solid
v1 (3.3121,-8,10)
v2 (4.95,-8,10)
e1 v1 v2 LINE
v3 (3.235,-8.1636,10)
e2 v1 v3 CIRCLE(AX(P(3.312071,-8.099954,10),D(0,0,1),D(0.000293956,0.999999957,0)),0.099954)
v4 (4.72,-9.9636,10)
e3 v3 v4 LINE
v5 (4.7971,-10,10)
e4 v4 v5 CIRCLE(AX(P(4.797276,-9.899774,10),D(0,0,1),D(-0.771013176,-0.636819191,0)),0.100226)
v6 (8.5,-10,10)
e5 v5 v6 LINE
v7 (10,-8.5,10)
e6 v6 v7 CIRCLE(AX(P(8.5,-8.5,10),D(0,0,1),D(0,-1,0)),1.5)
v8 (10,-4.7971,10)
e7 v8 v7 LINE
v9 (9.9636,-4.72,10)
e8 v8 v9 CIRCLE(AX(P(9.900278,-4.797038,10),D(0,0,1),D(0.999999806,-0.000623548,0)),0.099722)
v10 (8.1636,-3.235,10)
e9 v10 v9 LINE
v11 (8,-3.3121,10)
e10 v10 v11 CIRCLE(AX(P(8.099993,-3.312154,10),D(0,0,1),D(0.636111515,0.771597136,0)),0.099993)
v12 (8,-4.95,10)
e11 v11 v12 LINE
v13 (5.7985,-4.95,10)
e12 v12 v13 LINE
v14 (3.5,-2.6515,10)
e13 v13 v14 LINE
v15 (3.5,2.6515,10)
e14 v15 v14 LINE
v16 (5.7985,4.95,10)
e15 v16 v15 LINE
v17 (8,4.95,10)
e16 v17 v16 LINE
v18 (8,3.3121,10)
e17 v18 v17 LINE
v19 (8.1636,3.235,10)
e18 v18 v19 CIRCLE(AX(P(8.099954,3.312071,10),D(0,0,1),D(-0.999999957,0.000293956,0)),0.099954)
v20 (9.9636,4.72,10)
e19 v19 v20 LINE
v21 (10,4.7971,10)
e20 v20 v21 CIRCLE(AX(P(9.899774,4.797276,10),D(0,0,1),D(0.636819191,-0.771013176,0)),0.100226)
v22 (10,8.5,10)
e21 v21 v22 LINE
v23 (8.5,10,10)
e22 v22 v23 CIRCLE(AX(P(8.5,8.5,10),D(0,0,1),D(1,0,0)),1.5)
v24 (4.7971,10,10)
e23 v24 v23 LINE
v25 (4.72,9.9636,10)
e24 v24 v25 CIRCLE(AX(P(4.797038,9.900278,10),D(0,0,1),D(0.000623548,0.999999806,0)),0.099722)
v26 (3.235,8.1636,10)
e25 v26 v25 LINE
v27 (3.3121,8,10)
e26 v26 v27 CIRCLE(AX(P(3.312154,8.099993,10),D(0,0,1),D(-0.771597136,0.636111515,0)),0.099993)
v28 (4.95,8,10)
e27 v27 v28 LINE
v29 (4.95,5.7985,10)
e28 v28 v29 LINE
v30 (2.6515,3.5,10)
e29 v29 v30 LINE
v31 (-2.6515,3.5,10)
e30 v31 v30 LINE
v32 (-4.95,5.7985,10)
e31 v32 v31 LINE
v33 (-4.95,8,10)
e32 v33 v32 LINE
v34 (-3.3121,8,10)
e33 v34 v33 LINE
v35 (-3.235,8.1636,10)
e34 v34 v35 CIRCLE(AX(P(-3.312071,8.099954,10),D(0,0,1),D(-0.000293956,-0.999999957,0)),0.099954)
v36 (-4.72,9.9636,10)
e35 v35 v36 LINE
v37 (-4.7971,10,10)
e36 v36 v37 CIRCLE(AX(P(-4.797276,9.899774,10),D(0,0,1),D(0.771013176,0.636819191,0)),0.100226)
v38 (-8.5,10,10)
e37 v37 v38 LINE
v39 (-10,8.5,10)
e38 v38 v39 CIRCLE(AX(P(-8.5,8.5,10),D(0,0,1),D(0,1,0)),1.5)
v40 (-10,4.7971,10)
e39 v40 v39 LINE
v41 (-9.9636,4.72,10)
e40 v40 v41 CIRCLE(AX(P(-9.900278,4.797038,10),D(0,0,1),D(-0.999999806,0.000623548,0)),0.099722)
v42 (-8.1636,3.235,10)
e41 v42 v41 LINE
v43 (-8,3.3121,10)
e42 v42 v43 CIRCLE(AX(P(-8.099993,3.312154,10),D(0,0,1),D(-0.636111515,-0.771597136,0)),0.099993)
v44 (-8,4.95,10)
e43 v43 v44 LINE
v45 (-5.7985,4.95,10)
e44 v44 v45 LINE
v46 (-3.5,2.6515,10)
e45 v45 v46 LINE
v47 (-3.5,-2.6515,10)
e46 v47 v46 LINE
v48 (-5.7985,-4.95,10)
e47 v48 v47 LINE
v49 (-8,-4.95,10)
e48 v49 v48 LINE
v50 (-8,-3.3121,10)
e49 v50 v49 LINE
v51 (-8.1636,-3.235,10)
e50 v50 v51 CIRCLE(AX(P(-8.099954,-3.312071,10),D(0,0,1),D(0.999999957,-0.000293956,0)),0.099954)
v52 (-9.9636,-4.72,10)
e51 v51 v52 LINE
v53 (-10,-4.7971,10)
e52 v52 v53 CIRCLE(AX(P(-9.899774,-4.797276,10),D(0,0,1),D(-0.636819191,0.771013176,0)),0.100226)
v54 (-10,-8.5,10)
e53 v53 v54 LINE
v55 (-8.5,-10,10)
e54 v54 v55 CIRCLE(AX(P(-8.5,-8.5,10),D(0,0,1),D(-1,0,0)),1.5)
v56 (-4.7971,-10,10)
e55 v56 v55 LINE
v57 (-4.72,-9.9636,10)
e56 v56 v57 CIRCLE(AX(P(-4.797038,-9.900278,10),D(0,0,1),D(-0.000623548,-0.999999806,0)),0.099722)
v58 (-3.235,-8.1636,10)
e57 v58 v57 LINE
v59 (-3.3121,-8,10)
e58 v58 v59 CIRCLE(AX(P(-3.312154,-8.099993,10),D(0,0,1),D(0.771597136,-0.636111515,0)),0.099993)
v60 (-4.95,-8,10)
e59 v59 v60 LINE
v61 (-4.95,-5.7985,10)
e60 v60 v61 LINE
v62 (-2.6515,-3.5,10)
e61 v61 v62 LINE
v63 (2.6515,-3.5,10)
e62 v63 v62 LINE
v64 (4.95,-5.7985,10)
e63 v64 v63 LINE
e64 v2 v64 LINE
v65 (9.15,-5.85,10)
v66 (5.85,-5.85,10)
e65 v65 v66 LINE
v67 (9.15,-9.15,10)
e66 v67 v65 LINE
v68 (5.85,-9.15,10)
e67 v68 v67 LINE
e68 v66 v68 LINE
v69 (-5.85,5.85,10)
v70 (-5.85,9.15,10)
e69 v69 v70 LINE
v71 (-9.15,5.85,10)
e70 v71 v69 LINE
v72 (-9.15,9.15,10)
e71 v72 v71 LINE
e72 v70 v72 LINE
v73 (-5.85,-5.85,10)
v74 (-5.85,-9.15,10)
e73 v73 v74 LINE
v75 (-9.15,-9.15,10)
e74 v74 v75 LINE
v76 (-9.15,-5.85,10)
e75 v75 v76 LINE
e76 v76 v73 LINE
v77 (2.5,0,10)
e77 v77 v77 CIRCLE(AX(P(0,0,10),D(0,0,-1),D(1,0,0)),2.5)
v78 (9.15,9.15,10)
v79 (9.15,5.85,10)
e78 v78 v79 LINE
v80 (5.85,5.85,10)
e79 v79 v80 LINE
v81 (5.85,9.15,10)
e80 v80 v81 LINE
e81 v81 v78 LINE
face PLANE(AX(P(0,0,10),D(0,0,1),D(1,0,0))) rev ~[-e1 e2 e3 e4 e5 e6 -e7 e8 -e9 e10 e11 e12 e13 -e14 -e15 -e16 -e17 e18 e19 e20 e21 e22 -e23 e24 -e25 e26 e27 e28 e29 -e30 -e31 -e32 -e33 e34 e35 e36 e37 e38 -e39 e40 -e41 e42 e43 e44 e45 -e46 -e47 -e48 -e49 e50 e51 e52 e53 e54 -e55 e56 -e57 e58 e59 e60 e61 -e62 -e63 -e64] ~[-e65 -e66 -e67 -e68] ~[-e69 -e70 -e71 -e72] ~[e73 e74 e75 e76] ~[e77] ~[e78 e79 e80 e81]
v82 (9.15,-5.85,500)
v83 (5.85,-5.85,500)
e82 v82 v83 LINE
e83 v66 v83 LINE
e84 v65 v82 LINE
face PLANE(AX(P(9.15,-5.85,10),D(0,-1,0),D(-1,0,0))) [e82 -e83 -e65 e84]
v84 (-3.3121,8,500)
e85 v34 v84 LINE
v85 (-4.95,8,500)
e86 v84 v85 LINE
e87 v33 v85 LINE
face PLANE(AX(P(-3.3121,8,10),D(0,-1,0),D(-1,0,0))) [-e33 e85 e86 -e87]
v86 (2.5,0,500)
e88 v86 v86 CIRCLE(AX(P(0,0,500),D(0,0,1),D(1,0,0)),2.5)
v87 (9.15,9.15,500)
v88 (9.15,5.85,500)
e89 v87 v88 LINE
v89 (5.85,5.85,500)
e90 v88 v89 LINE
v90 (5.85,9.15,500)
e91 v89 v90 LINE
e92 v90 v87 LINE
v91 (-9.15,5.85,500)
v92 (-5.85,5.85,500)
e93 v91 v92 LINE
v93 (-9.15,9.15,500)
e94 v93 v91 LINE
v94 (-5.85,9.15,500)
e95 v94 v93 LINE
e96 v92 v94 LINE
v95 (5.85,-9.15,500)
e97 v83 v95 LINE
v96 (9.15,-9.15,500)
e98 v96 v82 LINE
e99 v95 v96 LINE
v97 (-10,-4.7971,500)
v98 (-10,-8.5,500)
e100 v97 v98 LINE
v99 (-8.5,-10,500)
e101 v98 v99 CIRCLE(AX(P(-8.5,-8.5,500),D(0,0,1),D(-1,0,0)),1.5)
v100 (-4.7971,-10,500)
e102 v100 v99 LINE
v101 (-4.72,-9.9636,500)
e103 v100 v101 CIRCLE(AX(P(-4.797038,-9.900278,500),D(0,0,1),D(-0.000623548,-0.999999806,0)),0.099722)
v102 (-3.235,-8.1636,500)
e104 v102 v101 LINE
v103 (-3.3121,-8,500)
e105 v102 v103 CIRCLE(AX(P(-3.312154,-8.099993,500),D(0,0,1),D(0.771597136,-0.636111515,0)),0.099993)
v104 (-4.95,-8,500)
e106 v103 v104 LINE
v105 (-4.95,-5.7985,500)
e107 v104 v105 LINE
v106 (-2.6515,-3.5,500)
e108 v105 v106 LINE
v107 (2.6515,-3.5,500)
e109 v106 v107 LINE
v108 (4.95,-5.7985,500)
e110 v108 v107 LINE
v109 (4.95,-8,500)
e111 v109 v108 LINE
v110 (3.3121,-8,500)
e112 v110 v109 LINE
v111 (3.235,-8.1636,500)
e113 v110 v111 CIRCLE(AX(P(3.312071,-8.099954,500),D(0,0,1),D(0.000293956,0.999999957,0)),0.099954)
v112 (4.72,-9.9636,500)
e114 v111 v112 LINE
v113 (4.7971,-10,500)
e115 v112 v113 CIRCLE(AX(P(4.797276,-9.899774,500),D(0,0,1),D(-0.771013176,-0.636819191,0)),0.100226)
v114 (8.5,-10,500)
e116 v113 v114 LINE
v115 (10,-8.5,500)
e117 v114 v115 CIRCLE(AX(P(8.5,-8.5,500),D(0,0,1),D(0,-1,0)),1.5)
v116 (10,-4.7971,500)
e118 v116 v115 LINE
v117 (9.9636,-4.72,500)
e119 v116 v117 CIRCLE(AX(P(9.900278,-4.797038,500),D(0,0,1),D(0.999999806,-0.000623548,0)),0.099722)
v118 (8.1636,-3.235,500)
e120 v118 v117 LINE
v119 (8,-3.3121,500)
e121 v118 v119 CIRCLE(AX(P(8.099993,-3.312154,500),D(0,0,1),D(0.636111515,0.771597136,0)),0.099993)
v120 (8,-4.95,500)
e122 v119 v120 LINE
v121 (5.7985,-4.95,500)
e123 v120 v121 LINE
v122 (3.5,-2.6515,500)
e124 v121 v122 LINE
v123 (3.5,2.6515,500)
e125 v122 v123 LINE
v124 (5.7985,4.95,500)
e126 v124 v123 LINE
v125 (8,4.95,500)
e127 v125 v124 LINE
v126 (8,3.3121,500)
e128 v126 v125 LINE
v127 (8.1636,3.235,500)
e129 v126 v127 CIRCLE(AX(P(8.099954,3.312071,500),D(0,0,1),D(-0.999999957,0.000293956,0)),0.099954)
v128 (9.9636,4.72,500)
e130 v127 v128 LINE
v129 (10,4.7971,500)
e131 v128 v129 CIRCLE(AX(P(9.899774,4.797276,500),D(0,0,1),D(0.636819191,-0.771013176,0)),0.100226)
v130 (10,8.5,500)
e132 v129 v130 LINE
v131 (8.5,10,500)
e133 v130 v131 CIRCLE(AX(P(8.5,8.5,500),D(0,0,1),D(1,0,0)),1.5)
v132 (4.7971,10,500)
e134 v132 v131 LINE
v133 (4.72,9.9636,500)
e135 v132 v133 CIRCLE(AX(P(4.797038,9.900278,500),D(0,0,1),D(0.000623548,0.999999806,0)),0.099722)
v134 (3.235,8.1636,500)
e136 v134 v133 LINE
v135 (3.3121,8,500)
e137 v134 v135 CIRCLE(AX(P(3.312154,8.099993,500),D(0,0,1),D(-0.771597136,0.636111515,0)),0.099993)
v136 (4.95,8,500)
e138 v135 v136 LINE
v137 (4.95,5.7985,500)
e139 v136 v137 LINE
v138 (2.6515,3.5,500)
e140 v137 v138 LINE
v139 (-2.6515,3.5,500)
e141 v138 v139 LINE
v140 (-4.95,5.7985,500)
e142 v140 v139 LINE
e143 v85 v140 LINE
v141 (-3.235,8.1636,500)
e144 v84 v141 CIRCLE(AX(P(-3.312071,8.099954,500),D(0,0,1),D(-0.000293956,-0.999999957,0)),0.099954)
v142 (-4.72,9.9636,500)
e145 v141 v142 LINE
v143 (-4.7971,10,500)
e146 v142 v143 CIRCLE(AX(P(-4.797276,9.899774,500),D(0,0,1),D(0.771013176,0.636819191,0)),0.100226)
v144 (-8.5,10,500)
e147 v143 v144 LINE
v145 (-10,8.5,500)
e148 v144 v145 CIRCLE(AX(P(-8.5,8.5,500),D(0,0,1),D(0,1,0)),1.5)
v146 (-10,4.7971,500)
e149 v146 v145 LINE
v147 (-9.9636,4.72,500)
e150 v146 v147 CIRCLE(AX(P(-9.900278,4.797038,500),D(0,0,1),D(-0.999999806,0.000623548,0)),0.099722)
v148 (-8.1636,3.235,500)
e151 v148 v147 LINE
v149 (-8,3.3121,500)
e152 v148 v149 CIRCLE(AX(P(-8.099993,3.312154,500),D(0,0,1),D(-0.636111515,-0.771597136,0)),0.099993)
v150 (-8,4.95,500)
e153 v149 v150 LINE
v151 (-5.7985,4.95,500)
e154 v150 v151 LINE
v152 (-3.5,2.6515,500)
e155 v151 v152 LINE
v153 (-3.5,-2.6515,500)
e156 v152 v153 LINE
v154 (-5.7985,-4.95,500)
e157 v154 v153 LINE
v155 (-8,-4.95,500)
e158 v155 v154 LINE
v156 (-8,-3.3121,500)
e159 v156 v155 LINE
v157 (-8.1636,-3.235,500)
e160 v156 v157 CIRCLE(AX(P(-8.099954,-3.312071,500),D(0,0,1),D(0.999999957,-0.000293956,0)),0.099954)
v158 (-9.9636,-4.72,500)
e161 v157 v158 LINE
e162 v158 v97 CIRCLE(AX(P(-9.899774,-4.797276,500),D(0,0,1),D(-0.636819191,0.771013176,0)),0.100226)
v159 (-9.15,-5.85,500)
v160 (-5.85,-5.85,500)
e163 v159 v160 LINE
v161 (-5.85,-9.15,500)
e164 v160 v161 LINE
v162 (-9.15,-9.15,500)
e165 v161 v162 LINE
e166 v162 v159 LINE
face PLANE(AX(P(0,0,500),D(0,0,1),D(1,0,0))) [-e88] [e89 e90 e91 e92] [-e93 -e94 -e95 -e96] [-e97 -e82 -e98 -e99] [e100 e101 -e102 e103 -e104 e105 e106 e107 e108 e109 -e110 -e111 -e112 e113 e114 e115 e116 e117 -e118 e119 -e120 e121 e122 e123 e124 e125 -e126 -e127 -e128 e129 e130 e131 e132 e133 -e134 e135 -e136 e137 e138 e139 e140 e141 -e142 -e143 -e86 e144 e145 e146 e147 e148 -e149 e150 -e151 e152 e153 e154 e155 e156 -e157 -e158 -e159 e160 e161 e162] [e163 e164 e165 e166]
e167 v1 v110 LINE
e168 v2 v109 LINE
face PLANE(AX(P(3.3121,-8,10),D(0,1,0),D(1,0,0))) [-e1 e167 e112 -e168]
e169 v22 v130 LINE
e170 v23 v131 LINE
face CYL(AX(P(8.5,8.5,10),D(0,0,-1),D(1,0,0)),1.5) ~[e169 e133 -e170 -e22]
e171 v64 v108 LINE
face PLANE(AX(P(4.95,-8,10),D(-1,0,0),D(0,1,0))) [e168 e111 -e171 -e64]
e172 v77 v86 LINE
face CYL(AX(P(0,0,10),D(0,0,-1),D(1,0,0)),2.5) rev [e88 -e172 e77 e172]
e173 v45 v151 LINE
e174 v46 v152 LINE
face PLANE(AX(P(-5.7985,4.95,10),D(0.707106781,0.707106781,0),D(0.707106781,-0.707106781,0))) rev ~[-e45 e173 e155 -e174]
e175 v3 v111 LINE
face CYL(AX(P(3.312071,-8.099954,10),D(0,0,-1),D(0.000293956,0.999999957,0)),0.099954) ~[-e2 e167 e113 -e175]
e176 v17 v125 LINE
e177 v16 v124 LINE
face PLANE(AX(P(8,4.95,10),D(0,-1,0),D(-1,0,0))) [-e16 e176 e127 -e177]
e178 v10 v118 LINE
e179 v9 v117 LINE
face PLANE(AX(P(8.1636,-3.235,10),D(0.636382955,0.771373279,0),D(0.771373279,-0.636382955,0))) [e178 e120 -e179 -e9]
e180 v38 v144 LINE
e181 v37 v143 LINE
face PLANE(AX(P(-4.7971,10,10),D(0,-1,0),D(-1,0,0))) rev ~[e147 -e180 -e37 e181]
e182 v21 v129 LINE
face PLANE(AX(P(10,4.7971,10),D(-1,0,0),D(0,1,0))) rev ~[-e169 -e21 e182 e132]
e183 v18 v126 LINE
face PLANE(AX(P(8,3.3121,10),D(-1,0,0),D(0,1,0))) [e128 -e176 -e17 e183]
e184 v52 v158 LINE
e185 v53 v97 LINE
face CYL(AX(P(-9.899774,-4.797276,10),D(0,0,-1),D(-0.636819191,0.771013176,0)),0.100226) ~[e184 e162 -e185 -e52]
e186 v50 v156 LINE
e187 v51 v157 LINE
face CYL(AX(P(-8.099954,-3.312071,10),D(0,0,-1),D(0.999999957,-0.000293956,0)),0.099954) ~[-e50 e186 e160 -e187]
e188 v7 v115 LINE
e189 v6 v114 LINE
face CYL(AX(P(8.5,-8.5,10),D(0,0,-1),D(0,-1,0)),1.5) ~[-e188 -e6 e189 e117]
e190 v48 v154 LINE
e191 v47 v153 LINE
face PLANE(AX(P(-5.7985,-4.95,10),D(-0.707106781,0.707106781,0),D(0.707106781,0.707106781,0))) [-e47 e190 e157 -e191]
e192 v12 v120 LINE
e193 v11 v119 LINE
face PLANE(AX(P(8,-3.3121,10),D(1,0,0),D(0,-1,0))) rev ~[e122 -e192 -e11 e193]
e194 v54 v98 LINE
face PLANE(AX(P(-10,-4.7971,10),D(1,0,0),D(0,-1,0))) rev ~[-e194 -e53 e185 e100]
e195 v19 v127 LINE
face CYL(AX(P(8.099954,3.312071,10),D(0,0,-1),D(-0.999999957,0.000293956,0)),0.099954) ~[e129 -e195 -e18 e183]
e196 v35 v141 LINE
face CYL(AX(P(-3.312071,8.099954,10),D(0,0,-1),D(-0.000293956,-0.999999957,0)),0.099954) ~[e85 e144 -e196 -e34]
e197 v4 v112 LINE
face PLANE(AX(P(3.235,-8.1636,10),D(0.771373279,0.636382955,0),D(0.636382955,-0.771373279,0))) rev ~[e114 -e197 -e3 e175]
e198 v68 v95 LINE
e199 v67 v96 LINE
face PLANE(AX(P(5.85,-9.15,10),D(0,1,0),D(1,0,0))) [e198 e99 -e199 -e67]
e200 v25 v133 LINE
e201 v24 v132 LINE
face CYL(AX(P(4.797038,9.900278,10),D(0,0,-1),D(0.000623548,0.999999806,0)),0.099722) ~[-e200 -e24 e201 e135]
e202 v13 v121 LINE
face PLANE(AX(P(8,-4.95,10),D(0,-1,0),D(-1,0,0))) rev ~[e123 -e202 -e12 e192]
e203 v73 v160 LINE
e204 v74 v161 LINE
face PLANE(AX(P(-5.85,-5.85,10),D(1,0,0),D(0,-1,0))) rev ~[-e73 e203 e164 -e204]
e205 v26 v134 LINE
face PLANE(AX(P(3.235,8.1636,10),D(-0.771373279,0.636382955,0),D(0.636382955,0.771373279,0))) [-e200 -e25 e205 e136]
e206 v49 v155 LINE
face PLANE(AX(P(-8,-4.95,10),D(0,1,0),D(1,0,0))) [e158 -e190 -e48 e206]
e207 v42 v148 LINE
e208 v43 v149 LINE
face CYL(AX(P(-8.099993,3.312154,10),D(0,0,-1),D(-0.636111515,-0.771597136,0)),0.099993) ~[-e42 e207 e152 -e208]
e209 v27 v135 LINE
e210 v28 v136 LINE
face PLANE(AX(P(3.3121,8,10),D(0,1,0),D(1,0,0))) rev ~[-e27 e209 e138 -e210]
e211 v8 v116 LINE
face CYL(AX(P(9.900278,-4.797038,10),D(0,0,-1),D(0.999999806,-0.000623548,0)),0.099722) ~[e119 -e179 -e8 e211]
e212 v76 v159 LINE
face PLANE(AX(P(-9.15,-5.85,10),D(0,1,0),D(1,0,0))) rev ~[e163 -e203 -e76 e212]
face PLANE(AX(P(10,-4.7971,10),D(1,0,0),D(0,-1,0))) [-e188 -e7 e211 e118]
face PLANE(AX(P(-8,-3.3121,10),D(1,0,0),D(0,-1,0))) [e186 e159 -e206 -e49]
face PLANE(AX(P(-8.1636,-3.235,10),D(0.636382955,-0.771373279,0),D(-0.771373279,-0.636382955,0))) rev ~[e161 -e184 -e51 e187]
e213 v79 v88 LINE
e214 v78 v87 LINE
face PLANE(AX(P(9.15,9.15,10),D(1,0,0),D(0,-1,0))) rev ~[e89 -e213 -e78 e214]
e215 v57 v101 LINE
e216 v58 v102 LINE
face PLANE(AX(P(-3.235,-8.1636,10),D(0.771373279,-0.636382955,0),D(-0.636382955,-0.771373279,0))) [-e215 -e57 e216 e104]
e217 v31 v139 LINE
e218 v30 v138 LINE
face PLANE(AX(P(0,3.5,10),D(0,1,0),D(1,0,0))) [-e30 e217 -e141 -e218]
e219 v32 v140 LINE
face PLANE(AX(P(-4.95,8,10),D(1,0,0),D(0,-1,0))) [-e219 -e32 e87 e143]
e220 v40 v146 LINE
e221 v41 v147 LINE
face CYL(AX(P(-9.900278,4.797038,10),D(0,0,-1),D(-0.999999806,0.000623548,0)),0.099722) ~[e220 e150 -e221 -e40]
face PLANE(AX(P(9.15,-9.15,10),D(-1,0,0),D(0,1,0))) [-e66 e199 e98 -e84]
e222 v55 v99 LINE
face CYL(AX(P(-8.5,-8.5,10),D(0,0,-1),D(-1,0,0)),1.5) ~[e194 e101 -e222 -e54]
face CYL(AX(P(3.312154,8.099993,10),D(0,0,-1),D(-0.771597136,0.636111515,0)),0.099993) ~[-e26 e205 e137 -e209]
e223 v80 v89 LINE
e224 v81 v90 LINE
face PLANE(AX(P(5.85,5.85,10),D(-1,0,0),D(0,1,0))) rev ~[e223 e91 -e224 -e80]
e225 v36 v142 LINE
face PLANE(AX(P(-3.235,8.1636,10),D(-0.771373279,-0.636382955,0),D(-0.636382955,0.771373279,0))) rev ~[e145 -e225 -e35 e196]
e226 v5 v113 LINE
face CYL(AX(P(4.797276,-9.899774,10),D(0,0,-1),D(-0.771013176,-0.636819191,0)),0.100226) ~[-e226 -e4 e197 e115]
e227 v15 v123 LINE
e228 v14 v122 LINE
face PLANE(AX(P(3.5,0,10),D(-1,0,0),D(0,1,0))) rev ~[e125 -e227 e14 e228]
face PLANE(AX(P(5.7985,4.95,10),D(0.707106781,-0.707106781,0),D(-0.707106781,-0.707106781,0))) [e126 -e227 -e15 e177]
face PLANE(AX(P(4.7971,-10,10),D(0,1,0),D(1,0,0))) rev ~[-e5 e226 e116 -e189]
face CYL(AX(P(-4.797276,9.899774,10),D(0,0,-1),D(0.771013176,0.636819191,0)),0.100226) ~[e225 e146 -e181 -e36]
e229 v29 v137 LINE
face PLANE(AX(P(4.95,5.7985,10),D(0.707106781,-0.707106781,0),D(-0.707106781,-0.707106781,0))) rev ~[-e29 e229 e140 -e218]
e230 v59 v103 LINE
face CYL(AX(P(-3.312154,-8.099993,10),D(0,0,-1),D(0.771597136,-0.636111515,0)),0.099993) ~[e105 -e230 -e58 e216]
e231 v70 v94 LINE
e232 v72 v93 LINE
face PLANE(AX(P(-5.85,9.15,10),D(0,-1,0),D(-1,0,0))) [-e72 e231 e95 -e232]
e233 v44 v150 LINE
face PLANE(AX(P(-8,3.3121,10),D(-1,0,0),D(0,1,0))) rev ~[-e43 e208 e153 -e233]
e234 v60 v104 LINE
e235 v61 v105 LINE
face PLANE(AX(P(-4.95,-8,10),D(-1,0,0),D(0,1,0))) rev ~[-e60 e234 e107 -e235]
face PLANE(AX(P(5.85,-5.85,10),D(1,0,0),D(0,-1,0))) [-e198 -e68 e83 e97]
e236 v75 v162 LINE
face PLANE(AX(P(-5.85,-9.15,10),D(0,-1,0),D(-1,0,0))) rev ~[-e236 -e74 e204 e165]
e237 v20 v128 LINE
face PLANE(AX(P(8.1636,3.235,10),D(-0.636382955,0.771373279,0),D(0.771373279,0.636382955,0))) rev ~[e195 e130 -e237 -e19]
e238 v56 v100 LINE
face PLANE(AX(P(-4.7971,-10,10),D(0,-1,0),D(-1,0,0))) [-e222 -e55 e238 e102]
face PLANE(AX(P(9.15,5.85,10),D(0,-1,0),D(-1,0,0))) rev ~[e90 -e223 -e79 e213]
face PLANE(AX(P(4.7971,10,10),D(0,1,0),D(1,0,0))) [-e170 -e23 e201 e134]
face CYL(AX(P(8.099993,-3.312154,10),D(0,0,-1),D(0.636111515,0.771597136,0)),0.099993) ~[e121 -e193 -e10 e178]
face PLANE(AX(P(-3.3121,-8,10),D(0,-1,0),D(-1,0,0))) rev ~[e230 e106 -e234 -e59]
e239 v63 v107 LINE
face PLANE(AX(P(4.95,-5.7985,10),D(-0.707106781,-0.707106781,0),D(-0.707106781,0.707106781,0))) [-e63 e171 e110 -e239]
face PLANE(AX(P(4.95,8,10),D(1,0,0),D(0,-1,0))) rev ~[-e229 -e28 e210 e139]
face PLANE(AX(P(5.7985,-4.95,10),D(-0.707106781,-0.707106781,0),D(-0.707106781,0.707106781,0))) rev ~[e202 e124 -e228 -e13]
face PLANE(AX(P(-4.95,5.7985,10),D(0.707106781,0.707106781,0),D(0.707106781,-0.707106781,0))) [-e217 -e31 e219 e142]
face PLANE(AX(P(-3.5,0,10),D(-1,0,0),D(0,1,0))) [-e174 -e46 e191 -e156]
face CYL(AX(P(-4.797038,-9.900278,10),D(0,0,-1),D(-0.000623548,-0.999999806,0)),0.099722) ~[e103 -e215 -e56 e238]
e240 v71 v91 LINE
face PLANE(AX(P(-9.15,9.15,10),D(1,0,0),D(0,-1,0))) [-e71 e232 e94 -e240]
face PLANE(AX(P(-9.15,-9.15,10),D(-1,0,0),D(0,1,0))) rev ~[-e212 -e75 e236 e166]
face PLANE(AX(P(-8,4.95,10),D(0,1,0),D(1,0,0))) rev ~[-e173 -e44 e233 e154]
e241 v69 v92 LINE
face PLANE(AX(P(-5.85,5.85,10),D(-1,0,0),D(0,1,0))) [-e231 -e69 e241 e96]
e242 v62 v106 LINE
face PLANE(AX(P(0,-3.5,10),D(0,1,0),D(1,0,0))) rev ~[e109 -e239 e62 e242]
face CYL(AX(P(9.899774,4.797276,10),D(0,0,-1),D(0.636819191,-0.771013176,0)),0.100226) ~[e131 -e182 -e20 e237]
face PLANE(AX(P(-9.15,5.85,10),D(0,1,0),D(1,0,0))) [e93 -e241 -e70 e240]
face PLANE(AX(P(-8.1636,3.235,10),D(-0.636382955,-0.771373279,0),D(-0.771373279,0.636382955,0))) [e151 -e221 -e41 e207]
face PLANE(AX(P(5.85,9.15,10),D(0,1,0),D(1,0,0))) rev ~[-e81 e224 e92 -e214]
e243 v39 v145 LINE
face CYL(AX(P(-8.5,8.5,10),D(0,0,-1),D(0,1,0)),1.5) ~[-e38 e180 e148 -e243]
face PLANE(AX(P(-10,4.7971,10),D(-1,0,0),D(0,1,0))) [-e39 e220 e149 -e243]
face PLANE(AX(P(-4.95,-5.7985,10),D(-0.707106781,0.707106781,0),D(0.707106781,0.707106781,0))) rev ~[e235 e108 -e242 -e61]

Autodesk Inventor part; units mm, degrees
ref_plane "Начальная плоскость" through (0, 0, 10) normal (0, 0, 1) x (1, 0, 0)
ref_plane "Конечная плоскость" through (0, 0, 500) normal (0, 0, 1) x (1, 0, 0)
sketch "Эскиз" plane through (0, 0, 0) normal (0, 0, 1) x (1, 0, 0)
  line L0 (-14.4349, 0) -> (14.4349, 0) projected
  line L1 (0, -14) -> (0, 14) projected
  line L2 (0, 0) -> (7.5, 7.5) construction
  circle A0 centre (7.5, 7.5) radius 1.65 construction
  line L3 (5.85, 9.15) -> (9.15, 9.15)
  line L4 (9.15, 9.15) -> (9.15, 5.85)
  line L5 (9.15, 5.85) -> (5.85, 5.85)
  line L6 (5.85, 5.85) -> (5.85, 9.15)
  line L7 (3.235, 8.1636) -> (4.72, 9.9636)
  line L8 (4.7971, 10) -> (8.5, 10)
  line L9 (3.3121, 8) -> (4.95, 8)
  line L10 (4.95, 8) -> (4.95, 5.7985)
  line L11 (4.95, 5.7985) -> (2.6515, 3.5)
  line L12 (0, 3.5) -> (2.6515, 3.5)
  circle A1 centre (0, 0) radius 2.5
  line L13 (8.1636, 3.235) -> (9.9636, 4.72)
  line L14 (10, 4.7971) -> (10, 8.5)
  line L15 (8, 3.3121) -> (8, 4.95)
  line L16 (8, 4.95) -> (5.7985, 4.95)
  line L17 (5.7985, 4.95) -> (3.5, 2.6515)
  line L18 (3.5, 0) -> (3.5, 2.6515)
  arc A2 (10, 8.5) -> (8.5, 10) centre (8.5, 8.5) ccw
  line L19 (0, 0) -> (-7.5, 7.5) construction
  circle A3 centre (-7.5, 7.5) radius 1.65 construction
  line L20 (-5.85, 9.15) -> (-9.15, 9.15)
  line L21 (-9.15, 9.15) -> (-9.15, 5.85)
  line L22 (-9.15, 5.85) -> (-5.85, 5.85)
  line L23 (-5.85, 5.85) -> (-5.85, 9.15)
  line L24 (-3.235, 8.1636) -> (-4.72, 9.9636)
  line L25 (-4.7971, 10) -> (-8.5, 10)
  line L26 (-3.3121, 8) -> (-4.95, 8)
  line L27 (-4.95, 8) -> (-4.95, 5.7985)
  line L28 (-4.95, 5.7985) -> (-2.6515, 3.5)
  line L29 (0, 3.5) -> (-2.6515, 3.5)
  line L30 (-3.5, 0) -> (-3.5, 2.6515)
  line L31 (-5.7985, 4.95) -> (-3.5, 2.6515)
  line L32 (-8, 4.95) -> (-5.7985, 4.95)
  line L33 (-8, 3.3121) -> (-8, 4.95)
  line L34 (-8.1636, 3.235) -> (-9.9636, 4.72)
  line L35 (-10, 4.7971) -> (-10, 8.5)
  arc A4 (-8.5, 10) -> (-10, 8.5) centre (-8.5, 8.5) ccw
  line L36 (0, 14) -> (0, -14)
  line L37 (0, 0) -> (7.5, -7.5) construction
  circle A5 centre (7.5, -7.5) radius 1.65 construction
  line L38 (5.85, -9.15) -> (9.15, -9.15)
  line L39 (9.15, -9.15) -> (9.15, -5.85)
  line L40 (9.15, -5.85) -> (5.85, -5.85)
  line L41 (5.85, -5.85) -> (5.85, -9.15)
  line L42 (3.235, -8.1636) -> (4.72, -9.9636)
  line L43 (4.7971, -10) -> (8.5, -10)
  line L44 (3.3121, -8) -> (4.95, -8)
  line L45 (4.95, -8) -> (4.95, -5.7985)
  line L46 (4.95, -5.7985) -> (2.6515, -3.5)
  line L47 (0, -3.5) -> (2.6515, -3.5)
  line L48 (3.5, 0) -> (3.5, -2.6515)
  line L49 (5.7985, -4.95) -> (3.5, -2.6515)
  line L50 (8, -4.95) -> (5.7985, -4.95)
  line L51 (8, -3.3121) -> (8, -4.95)
  line L52 (8.1636, -3.235) -> (9.9636, -4.72)
  line L53 (10, -4.7971) -> (10, -8.5)
  arc A6 (8.5, -10) -> (10, -8.5) centre (8.5, -8.5) ccw
  line L54 (0, 0) -> (-7.5, -7.5) construction
  line L55 (-4.95, -8) -> (-4.95, -5.7985)
  line L56 (-3.3121, -8) -> (-4.95, -8)
  line L57 (-5.7985, -4.95) -> (-3.5, -2.6515)
  line L58 (-4.95, -5.7985) -> (-2.6515, -3.5)
  line L59 (-3.5, 0) -> (-3.5, -2.6515)
  line L60 (0, -3.5) -> (-2.6515, -3.5)
  circle A7 centre (-7.5, -7.5) radius 1.65 construction
  line L61 (-5.85, -5.85) -> (-5.85, -9.15)
  line L62 (-5.85, -9.15) -> (-9.15, -9.15)
  line L63 (-9.15, -9.15) -> (-9.15, -5.85)
  line L64 (-9.15, -5.85) -> (-5.85, -5.85)
  line L65 (-3.235, -8.1636) -> (-4.72, -9.9636)
  line L66 (-8, -4.95) -> (-5.7985, -4.95)
  line L67 (-8, -3.3121) -> (-8, -4.95)
  line L68 (-8.1636, -3.235) -> (-9.9636, -4.72)
  line L69 (-4.7971, -10) -> (-8.5, -10)
  line L70 (-10, -4.7971) -> (-10, -8.5)
  arc A8 (-10, -8.5) -> (-8.5, -10) centre (-8.5, -8.5) ccw
  arc A9 (3.235, 8.1636) -> (3.3121, 8) centre (3.3121, 8.1) ccw
  arc A10 (4.7971, 10) -> (4.72, 9.9636) centre (4.7971, 9.9) ccw
  arc A11 (8, 3.3121) -> (8.1636, 3.235) centre (8.1, 3.3121) ccw
  arc A12 (9.9636, 4.72) -> (10, 4.7971) centre (9.9, 4.7971) ccw
  arc A13 (-3.3121, 8) -> (-3.235, 8.1636) centre (-3.3121, 8.1) ccw
  arc A14 (-4.72, 9.9636) -> (-4.7971, 10) centre (-4.7971, 9.9) ccw
  arc A15 (-8.1636, 3.235) -> (-8, 3.3121) centre (-8.1, 3.3121) ccw
  arc A16 (-10, 4.7971) -> (-9.9636, 4.72) centre (-9.9, 4.7971) ccw
  arc A17 (-8, -3.3121) -> (-8.1636, -3.235) centre (-8.1, -3.3121) ccw
  arc A18 (-9.9636, -4.72) -> (-10, -4.7971) centre (-9.9, -4.7971) ccw
  arc A19 (-3.235, -8.1636) -> (-3.3121, -8) centre (-3.3121, -8.1) ccw
  arc A20 (-4.7971, -10) -> (-4.72, -9.9636) centre (-4.7971, -9.9) ccw
  arc A21 (4.72, -9.9636) -> (4.7971, -10) centre (4.7971, -9.9) ccw
  arc A22 (3.3121, -8) -> (3.235, -8.1636) centre (3.3121, -8.1) ccw
  arc A23 (8.1636, -3.235) -> (8, -3.3121) centre (8.1, -3.3121) ccw
  arc A24 (10, -4.7971) -> (9.9636, -4.72) centre (9.9, -4.7971) ccw
  point P0 (3.1, 8)
  point P1 (4.75, 10)
  point P2 (7.5, 9.15)
  point P3 (8, 3.1)
  point P4 (10, 4.75)
  point P5 (7.5, 5.85)
  point P6 (9.15, 7.5)
  point P7 (-3.1, 8)
  point P8 (-4.75, 10)
  point P9 (-7.5, 9.15)
  point P10 (-8, 3.1)
  point P11 (-10, 4.75)
  point P12 (-7.5, 5.85)
  point P13 (-9.15, 7.5)
  point P14 (3.1, -8)
  point P15 (4.75, -10)
  point P16 (7.5, -9.15)
  point P17 (8, -3.1)
  point P18 (10, -4.75)
  point P19 (7.5, -5.85)
  point P20 (9.15, -7.5)
  point P21 (-3.1, -8)
  point P22 (-7.5, -5.85)
  point P23 (-7.5, -9.15)
  point P24 (-9.15, -7.5)
  point P25 (-4.75, -10)
  point P26 (-8, -3.1)
  point P27 (-10, -4.75)
  dimension "d0" = 45
  dimension "d1" = 3.3
  dimension "d2" = 1.5
  dimension "d3" = 1.2
  dimension "d4" = 5
  dimension "d5" = 6.5
  dimension "d6" = 15
  dimension "d7" = 20
  dimension "d8" = 9.9
  dimension "d9" = 9.5
  dimension "d10" = 6.2
  dimension "d11" = 2
  dimension "d18" = 0.1
  dimension "d19" = 0.1
extrude "Тело" add sketch "Эскиз" along normal up to surface (490 mm away) from surface at 10 contours A1 L1 L12 L11 L10 L9 A9 L7 A10 L8 A2 L14 A12 L13 A11 L15 L16 L17 L18 L0 | L0 L48 L49 L50 L51 A23 L52 A24 L53 A6 L43 A21 L42 A22 L44 L45 L46 L47 L1 A1 | A1 L0 L30 L31 L32 L33 A15 L34 A16 L35 A4 L25 A14 L24 A13 L26 L27 L28 L29 L1 | L1 L60 L58 L55 L56 A19 L65 A20 L69 A8 L70 A18 L68 A17 L67 L66 L57 L59 L0 A1
sketch "Эскиз2" plane through (0, 0, 0) normal (0, 0, 1) x (1, 0, 0)
  line L0 (0, 0) -> (10, 0)
ref_plane "РабПлоскость3" through (0, 0, 0) normal (0, -1, 0) x (1, 0, 0)
sketch "Эскиз3" plane through (0, 0, 0) normal (0, -1, 0) x (1, 0, 0)
  line L0 (-2, 10) -> (12, 10)
  line L1 (-2, 500) -> (12, 500)
  dimension "d25" = 490
ref_plane "РабПлоскость4" through (10, 0, 500) normal (0, 0, 1) x (1, 0, 0)
split "Разделение1" plane through (10, 0, 500) removes the side toward (0, 0, 1)
ref_plane "РабПлоскость5" through (0, 10, 520) normal (0, 0, 1) x (1, 0, 0)
split "Разделение2" plane through (0, 10, 520) removes the side toward (0, 0, 1)
ref_plane "РабПлоскость6" through (0, 0, 10) normal (0, 0, -1) x (-1, 0, 0)
split "Разделение3" plane through (0, 0, 10) removes the side toward (0, 0, -1)
ref_plane "РабПлоскость7" through (0, 40, -10) normal (0, 0, -1) x (-1, 0, 0)
split "Разделение4" plane through (0, 40, -10) removes the side toward (0, 0, -1)
sketch "Эскиз7" plane through (-2.6515, -3.5, 500) normal (0, 0, 1) x (1, 0, 0)
  point P0 (2.6515, 3.5)
  point P1 (2.6515, 3.5)
hole "Отверстие3" at (0, 0, 500) direction (0, 0, -1) diameter 4.917 end through all thread size "M6x1" class "6H" standard "ISO Metric profile"
properties part number "короткая палка" material "Алюминий 6061"
